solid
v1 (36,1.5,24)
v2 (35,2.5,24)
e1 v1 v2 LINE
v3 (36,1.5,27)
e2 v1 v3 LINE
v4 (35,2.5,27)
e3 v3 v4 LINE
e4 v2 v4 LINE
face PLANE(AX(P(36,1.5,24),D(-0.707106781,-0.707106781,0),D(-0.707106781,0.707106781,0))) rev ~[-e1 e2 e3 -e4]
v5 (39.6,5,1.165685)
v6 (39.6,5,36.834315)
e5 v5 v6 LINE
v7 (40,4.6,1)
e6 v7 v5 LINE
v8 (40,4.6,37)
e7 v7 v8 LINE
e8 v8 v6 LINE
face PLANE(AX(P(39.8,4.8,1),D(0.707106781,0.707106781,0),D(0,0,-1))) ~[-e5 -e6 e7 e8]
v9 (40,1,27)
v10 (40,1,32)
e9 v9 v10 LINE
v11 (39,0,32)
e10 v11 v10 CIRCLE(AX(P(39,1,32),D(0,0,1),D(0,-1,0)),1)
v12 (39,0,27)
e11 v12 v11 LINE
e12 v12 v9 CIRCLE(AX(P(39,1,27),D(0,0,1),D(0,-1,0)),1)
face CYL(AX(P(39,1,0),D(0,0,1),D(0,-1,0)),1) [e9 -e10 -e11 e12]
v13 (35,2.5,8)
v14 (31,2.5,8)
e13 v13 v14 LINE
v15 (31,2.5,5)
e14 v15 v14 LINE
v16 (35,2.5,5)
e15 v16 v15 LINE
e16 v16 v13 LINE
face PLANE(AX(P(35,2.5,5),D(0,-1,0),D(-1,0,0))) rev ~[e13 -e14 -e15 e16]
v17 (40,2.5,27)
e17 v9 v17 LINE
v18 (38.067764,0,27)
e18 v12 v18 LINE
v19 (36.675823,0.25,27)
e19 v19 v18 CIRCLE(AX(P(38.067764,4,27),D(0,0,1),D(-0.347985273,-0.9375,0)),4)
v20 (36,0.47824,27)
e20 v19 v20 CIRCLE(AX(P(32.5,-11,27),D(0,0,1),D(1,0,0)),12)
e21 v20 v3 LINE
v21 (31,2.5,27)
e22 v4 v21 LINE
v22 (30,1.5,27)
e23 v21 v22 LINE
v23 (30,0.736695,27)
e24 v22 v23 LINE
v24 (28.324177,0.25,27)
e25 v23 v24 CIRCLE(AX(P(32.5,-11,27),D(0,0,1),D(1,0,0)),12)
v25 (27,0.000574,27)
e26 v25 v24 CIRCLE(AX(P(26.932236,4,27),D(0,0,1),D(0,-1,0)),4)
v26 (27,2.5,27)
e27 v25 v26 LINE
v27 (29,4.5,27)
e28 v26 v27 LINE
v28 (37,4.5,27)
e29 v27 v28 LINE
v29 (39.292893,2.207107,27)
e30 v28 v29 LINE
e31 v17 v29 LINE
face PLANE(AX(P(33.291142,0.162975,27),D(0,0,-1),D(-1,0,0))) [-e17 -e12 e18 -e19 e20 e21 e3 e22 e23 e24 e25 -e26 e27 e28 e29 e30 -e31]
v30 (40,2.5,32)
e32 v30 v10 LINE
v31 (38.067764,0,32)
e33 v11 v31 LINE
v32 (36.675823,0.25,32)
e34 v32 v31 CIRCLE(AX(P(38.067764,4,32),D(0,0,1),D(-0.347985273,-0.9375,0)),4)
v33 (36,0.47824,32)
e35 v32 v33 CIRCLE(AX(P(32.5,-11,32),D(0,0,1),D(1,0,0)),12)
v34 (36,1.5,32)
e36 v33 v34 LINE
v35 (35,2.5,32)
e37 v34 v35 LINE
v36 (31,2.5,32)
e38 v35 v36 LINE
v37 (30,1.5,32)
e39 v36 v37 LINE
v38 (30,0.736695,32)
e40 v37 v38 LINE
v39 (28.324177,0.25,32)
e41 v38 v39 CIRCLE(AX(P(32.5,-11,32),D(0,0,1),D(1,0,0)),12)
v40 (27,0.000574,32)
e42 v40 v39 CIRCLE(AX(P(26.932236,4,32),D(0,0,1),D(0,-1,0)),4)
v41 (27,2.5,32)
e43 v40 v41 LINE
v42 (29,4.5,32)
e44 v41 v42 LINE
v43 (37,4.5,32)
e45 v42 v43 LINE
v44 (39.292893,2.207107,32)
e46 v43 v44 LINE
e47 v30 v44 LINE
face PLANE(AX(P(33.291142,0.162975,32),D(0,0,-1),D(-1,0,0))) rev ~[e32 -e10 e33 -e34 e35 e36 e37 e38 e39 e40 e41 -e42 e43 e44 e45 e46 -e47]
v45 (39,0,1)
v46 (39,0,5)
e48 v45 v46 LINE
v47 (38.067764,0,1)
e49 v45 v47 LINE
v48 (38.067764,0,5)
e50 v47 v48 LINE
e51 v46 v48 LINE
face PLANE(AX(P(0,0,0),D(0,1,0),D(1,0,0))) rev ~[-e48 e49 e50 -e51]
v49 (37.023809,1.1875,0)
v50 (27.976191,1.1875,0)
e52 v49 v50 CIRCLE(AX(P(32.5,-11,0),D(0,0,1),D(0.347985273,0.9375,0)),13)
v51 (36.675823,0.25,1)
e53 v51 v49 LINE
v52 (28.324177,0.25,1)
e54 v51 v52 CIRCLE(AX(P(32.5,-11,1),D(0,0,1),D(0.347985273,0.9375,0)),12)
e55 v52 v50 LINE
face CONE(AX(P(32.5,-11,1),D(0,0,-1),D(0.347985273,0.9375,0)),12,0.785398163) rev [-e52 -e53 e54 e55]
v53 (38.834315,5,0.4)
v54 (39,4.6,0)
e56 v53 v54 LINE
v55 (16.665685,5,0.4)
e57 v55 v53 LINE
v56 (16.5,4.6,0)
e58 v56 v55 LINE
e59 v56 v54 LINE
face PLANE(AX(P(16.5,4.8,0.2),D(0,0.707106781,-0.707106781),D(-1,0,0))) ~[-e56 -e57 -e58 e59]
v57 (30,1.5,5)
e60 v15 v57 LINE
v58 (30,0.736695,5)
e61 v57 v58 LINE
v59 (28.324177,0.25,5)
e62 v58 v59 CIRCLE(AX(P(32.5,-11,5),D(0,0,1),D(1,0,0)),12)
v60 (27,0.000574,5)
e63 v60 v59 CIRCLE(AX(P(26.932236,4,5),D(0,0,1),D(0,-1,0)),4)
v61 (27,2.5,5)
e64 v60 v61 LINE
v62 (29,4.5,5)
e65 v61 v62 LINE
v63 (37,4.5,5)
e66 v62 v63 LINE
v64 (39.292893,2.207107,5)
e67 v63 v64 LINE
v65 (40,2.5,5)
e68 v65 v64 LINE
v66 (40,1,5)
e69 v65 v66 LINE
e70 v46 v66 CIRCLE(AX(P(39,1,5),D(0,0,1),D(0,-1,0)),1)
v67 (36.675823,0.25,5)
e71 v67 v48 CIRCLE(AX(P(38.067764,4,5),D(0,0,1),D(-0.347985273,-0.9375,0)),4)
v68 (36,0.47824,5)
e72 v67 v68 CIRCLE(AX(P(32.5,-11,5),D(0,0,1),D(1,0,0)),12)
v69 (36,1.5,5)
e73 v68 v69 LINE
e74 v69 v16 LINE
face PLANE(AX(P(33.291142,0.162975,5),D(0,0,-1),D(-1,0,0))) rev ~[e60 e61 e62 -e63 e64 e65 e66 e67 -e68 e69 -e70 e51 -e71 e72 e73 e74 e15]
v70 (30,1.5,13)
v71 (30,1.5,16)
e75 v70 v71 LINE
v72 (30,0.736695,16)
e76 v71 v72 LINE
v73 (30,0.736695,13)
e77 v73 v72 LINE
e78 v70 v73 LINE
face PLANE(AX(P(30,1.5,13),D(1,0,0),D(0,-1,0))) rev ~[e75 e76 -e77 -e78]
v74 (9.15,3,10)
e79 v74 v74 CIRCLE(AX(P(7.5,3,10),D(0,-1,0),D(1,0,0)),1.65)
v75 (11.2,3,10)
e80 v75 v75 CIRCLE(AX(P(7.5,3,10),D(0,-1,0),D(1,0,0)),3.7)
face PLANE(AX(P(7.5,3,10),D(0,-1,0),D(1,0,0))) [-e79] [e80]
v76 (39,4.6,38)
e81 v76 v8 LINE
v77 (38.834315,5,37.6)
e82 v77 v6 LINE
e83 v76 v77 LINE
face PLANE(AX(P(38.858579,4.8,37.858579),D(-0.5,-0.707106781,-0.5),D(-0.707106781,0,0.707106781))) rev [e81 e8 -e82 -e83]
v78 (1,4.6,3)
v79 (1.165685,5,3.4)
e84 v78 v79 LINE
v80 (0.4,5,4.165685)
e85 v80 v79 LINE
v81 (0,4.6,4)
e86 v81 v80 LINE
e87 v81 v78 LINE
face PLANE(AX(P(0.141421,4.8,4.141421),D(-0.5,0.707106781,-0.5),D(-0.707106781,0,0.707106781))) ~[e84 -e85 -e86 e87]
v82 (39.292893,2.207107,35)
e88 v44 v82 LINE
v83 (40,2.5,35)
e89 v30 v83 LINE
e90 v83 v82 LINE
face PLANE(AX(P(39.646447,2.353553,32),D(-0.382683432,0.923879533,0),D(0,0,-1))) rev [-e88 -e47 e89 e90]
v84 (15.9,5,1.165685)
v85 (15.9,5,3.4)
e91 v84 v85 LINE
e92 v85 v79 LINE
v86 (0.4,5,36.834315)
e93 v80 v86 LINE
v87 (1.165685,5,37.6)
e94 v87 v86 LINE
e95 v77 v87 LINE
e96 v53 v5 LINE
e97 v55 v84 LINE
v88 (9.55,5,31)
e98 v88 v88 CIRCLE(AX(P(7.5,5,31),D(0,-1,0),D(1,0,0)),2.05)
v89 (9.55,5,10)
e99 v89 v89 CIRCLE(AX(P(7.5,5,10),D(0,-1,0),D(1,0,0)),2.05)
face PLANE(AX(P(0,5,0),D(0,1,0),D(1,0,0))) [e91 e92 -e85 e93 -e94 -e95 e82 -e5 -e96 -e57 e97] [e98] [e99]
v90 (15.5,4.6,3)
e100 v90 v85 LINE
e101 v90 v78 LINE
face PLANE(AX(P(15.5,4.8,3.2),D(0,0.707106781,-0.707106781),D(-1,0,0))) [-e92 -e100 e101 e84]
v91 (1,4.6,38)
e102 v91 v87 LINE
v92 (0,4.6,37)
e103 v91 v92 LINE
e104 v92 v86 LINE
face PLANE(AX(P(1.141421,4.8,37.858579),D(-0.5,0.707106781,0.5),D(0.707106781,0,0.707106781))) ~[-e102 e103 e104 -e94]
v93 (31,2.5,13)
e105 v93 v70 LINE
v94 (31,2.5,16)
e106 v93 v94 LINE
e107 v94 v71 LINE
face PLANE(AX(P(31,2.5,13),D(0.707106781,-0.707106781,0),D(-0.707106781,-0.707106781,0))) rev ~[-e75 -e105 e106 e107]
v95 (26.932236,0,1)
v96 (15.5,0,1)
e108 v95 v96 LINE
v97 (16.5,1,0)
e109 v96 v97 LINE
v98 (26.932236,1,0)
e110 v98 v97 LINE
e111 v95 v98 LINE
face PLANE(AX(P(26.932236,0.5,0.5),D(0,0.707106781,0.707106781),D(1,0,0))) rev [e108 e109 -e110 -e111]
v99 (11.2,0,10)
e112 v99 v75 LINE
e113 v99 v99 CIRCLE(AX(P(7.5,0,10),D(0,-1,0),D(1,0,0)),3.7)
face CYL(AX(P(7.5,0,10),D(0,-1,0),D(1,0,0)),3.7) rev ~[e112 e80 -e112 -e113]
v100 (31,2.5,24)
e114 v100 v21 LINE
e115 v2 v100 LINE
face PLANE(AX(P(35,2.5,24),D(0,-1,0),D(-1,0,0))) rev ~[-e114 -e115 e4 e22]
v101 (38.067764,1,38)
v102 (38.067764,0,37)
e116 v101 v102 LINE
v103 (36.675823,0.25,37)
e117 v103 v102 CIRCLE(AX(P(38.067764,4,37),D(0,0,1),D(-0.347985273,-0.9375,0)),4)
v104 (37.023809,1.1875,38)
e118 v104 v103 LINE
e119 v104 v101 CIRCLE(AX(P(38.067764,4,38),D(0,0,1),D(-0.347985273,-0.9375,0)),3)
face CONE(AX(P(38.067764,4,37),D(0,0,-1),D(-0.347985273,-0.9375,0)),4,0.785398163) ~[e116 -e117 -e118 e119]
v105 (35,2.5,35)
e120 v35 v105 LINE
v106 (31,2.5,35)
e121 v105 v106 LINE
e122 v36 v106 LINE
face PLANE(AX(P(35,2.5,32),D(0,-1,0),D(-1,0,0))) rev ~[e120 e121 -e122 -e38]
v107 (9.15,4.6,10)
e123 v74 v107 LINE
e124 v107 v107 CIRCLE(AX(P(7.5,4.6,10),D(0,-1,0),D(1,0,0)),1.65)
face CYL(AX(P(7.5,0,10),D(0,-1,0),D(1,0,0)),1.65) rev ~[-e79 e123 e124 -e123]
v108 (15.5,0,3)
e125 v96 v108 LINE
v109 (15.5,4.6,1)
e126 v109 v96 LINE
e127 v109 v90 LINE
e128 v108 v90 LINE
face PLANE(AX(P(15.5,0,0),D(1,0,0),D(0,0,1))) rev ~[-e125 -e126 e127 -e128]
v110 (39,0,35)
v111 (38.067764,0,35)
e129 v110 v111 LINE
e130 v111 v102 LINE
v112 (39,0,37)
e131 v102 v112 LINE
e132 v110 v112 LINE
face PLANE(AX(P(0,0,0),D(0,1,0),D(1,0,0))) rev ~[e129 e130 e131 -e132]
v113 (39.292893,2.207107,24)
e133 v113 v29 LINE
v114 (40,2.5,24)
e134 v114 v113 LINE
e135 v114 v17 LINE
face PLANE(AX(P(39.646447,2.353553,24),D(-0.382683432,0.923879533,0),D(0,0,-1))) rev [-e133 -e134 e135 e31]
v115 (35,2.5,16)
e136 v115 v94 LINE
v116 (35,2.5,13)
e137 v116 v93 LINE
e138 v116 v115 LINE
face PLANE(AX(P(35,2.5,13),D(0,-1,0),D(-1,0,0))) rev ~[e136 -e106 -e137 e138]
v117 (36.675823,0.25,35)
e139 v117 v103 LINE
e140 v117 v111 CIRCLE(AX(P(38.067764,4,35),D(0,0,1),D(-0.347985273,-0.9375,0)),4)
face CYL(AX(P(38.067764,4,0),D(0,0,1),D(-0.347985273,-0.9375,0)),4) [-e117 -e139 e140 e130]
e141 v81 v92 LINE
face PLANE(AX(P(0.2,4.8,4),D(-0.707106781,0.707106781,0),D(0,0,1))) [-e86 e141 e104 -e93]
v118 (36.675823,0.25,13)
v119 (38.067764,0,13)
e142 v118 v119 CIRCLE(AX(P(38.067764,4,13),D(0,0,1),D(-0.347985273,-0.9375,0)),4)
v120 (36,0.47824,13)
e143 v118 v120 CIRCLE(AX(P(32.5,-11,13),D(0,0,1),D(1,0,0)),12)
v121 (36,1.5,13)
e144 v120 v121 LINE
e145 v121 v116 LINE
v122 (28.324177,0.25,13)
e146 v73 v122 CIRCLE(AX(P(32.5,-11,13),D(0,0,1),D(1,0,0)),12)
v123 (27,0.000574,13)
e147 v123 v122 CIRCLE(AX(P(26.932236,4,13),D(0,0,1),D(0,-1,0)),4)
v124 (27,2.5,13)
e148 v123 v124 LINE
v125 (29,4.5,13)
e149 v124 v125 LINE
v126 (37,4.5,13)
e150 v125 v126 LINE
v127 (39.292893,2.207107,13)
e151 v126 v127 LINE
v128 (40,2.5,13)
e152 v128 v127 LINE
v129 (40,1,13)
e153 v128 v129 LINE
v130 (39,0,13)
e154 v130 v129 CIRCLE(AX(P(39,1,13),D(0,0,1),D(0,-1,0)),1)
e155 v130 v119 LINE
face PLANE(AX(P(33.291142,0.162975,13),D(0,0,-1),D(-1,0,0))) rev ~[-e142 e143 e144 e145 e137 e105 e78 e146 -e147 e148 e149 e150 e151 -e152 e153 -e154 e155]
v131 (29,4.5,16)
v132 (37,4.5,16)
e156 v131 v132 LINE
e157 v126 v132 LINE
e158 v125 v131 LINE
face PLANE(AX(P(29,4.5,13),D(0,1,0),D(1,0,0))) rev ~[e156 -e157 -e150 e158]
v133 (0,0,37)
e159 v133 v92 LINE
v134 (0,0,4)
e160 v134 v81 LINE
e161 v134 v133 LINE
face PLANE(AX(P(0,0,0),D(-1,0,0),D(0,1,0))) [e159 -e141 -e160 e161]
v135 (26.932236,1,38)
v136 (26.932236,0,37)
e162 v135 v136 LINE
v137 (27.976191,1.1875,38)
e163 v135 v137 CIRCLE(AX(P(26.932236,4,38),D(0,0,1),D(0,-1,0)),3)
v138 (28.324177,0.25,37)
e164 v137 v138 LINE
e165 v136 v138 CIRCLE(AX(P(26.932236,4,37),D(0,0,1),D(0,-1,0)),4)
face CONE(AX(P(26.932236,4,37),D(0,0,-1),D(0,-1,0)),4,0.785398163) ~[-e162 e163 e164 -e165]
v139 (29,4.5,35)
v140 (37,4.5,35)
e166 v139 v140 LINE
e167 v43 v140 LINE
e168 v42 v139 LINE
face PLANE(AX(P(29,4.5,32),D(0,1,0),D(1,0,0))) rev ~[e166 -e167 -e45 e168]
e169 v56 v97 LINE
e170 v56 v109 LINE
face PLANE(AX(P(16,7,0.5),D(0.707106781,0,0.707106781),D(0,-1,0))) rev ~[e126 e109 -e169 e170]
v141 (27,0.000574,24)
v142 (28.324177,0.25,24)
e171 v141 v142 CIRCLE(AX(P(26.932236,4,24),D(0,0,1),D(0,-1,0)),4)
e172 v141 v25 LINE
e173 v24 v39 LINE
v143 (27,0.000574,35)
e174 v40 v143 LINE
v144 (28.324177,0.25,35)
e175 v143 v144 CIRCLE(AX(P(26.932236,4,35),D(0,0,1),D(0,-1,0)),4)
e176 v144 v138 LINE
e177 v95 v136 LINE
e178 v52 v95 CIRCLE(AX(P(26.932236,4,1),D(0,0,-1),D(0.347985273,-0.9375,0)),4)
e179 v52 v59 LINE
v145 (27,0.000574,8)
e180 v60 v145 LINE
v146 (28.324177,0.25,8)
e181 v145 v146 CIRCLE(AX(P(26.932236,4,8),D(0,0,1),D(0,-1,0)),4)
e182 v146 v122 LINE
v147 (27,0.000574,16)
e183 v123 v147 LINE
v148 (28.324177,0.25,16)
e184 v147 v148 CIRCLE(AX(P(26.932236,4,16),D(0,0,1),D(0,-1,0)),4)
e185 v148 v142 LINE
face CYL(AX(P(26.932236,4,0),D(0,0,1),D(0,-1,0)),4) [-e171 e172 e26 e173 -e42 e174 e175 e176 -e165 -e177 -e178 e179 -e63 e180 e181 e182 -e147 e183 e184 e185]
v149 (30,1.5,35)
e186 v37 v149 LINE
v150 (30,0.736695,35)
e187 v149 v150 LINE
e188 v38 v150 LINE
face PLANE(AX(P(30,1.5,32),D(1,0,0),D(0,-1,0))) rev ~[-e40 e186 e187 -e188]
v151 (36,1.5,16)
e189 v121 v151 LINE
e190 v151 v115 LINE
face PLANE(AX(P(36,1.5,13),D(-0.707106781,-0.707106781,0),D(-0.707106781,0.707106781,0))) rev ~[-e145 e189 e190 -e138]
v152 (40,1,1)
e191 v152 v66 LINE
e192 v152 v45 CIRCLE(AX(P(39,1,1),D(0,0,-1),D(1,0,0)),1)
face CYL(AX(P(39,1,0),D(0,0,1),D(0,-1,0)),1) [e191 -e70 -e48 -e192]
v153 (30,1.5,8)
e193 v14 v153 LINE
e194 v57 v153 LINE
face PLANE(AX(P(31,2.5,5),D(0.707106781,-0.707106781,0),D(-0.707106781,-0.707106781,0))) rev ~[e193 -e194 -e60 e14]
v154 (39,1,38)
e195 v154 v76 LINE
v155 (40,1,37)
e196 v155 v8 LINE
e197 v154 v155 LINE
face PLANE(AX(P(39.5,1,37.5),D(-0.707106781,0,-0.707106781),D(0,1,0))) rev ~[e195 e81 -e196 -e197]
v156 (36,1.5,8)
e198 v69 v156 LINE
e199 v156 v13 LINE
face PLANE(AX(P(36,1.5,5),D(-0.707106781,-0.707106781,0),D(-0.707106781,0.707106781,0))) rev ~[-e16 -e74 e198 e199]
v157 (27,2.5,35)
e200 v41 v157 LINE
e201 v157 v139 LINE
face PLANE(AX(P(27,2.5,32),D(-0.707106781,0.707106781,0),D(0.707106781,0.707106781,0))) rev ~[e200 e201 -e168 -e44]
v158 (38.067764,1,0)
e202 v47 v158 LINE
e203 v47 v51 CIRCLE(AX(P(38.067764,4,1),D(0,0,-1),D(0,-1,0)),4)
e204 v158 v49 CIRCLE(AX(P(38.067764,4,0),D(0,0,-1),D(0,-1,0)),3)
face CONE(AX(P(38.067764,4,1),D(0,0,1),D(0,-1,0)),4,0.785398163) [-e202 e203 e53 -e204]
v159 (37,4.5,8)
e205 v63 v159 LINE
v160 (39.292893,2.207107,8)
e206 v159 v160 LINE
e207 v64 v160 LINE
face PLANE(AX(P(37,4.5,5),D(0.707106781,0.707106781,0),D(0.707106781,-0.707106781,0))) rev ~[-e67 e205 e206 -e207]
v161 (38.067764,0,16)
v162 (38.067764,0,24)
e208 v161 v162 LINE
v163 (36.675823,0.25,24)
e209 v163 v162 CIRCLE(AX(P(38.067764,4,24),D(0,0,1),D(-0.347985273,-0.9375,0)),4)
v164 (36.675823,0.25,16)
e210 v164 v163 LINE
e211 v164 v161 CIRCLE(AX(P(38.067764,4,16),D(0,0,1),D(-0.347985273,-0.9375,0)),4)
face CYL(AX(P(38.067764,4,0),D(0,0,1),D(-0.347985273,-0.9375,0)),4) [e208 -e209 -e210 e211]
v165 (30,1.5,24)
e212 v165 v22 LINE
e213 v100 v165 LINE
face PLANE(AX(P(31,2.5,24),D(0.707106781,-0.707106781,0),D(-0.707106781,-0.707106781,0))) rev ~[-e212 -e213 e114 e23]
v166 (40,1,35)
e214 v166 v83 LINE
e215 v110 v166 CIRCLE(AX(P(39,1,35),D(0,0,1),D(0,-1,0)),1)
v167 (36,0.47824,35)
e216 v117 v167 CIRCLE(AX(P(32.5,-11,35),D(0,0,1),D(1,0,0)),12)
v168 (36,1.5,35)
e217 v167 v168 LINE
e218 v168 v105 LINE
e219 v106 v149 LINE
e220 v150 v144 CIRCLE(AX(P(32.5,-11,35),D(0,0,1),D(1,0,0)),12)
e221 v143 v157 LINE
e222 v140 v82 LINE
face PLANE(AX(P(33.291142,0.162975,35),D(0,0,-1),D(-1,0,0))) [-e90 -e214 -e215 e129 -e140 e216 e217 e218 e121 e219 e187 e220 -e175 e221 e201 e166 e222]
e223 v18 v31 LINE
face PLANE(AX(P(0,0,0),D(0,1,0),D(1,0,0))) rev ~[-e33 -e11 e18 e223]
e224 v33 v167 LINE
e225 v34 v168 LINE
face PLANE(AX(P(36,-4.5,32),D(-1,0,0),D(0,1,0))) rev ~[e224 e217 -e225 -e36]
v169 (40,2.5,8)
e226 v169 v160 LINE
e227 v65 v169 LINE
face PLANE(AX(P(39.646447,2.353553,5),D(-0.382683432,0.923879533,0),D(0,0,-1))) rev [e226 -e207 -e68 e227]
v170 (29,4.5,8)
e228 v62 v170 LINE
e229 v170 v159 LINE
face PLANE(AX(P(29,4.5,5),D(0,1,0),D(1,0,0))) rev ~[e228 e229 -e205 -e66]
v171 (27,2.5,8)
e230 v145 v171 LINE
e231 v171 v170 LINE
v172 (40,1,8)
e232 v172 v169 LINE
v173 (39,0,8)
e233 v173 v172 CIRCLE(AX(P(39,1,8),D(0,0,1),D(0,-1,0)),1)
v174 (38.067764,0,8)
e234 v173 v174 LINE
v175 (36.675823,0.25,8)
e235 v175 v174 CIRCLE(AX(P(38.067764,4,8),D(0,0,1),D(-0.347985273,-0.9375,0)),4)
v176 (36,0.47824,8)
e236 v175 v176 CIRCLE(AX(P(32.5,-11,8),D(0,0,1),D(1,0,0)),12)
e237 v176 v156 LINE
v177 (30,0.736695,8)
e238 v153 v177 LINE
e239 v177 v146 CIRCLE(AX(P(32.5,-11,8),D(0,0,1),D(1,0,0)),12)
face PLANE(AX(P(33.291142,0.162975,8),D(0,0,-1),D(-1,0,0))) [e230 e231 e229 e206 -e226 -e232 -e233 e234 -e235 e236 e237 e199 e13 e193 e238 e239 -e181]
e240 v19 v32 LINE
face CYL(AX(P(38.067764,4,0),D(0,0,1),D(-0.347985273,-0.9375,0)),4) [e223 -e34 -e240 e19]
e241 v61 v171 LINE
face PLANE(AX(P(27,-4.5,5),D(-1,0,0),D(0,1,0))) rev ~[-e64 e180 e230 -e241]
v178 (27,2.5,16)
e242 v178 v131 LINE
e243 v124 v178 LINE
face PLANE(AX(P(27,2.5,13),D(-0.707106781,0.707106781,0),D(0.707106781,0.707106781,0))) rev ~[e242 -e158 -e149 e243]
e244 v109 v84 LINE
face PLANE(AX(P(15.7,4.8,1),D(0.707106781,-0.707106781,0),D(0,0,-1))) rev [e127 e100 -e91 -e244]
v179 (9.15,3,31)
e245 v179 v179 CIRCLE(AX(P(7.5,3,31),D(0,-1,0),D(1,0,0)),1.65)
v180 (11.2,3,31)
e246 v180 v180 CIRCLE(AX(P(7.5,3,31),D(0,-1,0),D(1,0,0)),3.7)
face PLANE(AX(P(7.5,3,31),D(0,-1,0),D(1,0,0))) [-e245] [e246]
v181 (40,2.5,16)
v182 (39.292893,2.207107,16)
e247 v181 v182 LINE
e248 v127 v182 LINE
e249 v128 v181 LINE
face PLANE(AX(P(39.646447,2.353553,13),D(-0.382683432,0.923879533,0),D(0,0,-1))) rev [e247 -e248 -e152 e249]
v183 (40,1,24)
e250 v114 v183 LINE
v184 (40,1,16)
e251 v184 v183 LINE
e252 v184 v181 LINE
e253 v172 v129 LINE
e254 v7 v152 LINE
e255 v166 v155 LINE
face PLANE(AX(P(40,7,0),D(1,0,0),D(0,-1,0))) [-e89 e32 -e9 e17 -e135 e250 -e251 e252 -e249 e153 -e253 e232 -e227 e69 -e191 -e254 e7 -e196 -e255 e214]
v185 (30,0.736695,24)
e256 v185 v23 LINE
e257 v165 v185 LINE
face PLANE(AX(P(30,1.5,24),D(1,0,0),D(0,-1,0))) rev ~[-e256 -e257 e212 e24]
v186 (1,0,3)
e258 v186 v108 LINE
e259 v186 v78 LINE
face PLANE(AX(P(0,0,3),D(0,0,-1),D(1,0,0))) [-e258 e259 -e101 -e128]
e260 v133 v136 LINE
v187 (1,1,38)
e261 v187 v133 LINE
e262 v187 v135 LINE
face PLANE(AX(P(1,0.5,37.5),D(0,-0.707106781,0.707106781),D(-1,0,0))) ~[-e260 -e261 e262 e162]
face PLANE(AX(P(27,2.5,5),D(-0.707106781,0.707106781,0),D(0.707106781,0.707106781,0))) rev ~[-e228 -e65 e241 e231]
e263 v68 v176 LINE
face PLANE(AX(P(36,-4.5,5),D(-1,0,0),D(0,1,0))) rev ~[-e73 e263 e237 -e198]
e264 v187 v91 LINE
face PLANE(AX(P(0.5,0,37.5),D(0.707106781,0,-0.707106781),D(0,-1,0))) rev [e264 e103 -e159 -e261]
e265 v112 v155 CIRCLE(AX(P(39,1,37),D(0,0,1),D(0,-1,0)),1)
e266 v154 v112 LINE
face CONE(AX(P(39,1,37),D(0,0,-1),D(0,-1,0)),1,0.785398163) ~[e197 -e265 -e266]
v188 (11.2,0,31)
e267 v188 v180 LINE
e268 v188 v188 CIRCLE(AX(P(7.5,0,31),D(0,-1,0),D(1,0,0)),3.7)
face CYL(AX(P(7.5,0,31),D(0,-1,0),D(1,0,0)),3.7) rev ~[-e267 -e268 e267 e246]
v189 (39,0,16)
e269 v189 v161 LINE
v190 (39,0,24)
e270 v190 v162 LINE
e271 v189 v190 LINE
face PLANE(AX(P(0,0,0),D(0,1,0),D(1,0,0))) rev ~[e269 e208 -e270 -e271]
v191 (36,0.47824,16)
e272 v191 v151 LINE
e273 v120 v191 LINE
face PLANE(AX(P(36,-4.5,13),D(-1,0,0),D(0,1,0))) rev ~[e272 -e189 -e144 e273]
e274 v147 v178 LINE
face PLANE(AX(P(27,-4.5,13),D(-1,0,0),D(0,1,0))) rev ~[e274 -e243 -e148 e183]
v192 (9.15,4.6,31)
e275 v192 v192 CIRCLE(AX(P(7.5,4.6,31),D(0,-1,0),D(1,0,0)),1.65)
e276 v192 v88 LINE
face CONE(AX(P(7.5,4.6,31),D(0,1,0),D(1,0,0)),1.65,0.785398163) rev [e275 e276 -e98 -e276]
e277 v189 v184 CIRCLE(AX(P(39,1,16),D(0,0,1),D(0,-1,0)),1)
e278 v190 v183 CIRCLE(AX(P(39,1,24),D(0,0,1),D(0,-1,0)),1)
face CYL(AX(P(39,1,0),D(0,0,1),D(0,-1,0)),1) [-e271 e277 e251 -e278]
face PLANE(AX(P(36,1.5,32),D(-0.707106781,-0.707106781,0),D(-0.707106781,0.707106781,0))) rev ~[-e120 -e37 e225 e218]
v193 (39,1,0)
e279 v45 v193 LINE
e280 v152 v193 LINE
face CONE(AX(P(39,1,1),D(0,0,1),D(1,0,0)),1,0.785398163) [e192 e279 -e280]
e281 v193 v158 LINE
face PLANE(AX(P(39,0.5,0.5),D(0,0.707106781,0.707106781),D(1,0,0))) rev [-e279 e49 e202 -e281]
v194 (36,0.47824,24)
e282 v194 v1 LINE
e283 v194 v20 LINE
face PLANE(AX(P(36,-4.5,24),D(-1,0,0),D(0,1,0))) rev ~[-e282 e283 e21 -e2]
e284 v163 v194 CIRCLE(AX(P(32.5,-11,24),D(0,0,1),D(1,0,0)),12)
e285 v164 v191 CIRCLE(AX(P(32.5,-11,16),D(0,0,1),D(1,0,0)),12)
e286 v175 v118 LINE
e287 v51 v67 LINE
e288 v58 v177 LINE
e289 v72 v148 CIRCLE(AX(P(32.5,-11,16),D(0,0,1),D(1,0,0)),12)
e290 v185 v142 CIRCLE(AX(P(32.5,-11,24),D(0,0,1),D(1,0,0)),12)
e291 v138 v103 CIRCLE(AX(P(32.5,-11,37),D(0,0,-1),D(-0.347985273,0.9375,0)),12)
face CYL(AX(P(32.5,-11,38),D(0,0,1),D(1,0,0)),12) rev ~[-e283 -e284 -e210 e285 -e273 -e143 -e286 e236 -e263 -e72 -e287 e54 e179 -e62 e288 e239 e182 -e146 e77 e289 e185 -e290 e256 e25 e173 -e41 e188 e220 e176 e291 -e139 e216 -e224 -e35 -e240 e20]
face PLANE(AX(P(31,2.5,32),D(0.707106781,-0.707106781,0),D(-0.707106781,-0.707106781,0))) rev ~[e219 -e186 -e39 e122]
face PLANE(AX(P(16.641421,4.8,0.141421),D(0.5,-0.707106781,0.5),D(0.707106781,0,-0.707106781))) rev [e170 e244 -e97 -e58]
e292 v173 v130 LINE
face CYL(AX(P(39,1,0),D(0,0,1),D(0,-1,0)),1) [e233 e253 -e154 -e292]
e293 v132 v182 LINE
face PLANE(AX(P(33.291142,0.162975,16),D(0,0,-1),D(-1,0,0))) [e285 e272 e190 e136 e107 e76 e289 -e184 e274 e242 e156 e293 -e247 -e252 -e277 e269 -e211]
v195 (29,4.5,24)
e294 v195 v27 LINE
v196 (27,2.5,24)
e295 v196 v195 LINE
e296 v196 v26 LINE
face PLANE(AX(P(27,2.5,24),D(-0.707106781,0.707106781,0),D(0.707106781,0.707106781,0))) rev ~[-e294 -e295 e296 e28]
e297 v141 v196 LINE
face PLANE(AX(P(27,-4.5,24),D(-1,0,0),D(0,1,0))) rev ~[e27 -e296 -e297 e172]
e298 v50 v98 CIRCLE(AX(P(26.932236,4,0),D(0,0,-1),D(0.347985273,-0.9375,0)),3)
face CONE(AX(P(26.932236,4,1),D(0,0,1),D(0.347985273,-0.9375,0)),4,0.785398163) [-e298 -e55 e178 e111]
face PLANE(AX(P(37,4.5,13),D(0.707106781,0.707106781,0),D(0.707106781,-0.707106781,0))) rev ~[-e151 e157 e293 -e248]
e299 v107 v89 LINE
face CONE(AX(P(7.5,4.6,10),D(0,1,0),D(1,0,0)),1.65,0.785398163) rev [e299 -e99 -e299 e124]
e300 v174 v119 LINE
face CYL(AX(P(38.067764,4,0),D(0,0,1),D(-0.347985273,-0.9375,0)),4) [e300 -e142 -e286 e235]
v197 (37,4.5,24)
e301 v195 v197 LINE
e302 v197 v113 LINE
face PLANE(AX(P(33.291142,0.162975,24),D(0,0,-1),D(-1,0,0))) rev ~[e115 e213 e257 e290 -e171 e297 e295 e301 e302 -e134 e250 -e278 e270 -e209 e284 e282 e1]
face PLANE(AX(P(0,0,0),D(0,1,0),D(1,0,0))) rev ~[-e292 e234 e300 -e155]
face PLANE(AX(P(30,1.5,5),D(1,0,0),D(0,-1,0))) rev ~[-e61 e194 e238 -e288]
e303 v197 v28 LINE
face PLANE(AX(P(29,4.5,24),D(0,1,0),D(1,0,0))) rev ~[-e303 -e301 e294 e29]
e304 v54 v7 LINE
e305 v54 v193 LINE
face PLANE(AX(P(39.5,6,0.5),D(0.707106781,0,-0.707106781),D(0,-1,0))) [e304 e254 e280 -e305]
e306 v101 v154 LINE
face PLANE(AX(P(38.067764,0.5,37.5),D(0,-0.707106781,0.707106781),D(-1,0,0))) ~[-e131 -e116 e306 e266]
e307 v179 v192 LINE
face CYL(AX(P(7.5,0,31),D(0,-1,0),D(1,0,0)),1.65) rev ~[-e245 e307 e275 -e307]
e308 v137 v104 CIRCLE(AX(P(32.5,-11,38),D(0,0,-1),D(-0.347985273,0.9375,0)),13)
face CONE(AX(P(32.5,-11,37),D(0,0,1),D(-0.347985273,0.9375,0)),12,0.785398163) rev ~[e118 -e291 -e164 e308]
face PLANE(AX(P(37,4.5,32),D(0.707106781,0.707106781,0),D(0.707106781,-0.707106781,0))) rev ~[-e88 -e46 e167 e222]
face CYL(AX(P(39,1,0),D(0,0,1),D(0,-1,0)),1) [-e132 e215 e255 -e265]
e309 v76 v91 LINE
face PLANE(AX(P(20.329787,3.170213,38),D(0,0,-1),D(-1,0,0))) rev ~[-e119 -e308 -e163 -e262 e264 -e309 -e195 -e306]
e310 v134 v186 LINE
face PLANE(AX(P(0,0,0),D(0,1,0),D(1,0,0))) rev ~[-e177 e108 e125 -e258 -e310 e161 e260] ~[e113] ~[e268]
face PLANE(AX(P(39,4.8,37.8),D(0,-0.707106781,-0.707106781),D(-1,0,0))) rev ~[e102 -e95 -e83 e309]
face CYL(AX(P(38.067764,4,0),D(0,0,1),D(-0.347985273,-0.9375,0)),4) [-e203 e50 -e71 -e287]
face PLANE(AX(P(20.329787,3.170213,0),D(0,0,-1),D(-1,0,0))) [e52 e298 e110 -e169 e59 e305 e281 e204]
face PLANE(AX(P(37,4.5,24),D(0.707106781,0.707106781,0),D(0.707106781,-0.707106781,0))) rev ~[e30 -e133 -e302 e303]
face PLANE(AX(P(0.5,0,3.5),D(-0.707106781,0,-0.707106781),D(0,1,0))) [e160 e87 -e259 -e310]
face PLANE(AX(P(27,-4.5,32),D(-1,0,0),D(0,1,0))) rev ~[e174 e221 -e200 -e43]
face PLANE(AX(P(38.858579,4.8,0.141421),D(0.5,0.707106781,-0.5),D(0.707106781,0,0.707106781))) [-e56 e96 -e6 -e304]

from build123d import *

# Parameters (mm, degrees)
BOX_W              = 40
BOX_H              = 4
BOX_DEPTH          = 38
PAD002_DEPTH       = 3
PAD_DEPTH          = 38
SKETCH001_W        = 15.5
SKETCH001_H        = 3
POCKET_DEPTH       = 7.001
SKETCH002_R        = 12
POCKET001_DEPTH    = 38.001
FILLET_R           = 4
FILLET001_R        = 1
SKETCH003_R        = 1.65
POCKET002_DEPTH    = 7.001
SKETCH004_R        = 3.7
POCKET003_DEPTH    = 3
CHAMFER_SIZE       = 1
CHAMFER001_SIZE    = 1
SKETCH005_W        = 3
SKETCH005_H        = 5
SKETCH005_H_2      = 17
PAD001_DEPTH       = 1
CHAMFER002_SIZE    = 0.99
CHAMFER003_SIZE    = 1
CHAMFER003002_SIZE = 0.4


with BuildPart() as cube:
    # Box → Box (new body)
    with BuildSketch(Plane(origin=(0, 5, 0), x_dir=(1, 0, 0), z_dir=(0, 0, 1))):
        with Locations((20, 2)):
            Rectangle(BOX_W, BOX_H)
    extrude(amount=BOX_DEPTH)


with BuildPart() as body001:
    # Sketch006 → Pad002 (new body)
    with BuildSketch(Plane.XY):
        Polygon((27, -3), (27, 4), (29, 6), (37, 6), (40, 3), (40, -3), (36, -3), (36, 3), (35, 4), (31, 4), (30, 3), (30, -3), align=None)
    extrude(amount=PAD002_DEPTH)


with BuildPart() as body001_1:
    # Body001 placement: moved
    add(body001.part.moved(Location((0, 0, 32))))


with BuildPart() as body002:
    # Body002 base: copy of Body001
    add(body001_1.part)


with BuildPart() as body002_1:
    # Body002 placement: moved
    add(body002.part.moved(Location((0, 0, -8))))


with BuildPart() as body003:
    # Body003 base: copy of Body002
    add(body002_1.part)


with BuildPart() as body003_1:
    # Body003 placement: moved
    add(body003.part.moved(Location((0, 0, -19))))


with BuildPart() as fusion:
    # Body004 base: copy of Body003
    add(body003_1.part)


with BuildPart() as fusion_1:
    # Body004 placement: moved
    add(fusion.part.moved(Location((0, 0, 8))))

    # Fusion: union Body001, Body002, Body003
    add(body001_1.part)
    add(body002_1.part)
    add(body003_1.part)


with BuildPart() as fusion_2:
    # Fusion placement: moved
    add(fusion_1.part.moved(Location((0, -1.5, 0))))


with BuildPart() as chamfer003002:
    # Sketch → Pad (new body)
    with BuildSketch(Plane.XY):
        Polygon((0, 0), (0, 5), (15.5, 5), (15.5, 7), (25, 7), (40, 7), (40, 0), (25, 0), align=None)
    extrude(amount=PAD_DEPTH)

    # Sketch001 (on Face8 of Pad) → Pocket (cut, through all)
    with BuildSketch(Plane.XZ):
        with Locations((7.75, 1.5)):
            Rectangle(SKETCH001_W, SKETCH001_H)
    extrude(amount=-POCKET_DEPTH, mode=Mode.SUBTRACT)

    # Sketch002 (on Face4 of Pocket) → Pocket001 (cut, through all)
    with BuildSketch(Plane.XY.offset(38)):
        with Locations((32.5, -11)):
            Circle(SKETCH002_R)
    extrude(amount=-POCKET001_DEPTH, mode=Mode.SUBTRACT)

    # Fillet
    fillet_edges = [chamfer003002.edges().sort_by_distance(p)[0] for p in [
        (27.704168, 0, 19),
        (37.295832, 0, 19),
    ]]
    fillet(fillet_edges, radius=FILLET_R)

    # Fillet001
    fillet001_edges = [chamfer003002.edges().sort_by_distance(p)[0] for p in [
        (40, 0, 19),
        (40, 7, 19),
    ]]
    fillet(fillet001_edges, radius=FILLET001_R)

    # Sketch003 (on Face12 of Fillet001) → Pocket002 (cut, through all)
    with BuildSketch(Plane.XZ):
        with Locations((7.5, 31)):
            Circle(SKETCH003_R)
        with Locations((7.5, 10)):
            Circle(SKETCH003_R)
    extrude(amount=-POCKET002_DEPTH, mode=Mode.SUBTRACT)

    # Sketch004 (on Face12 of Pocket002) → Pocket003 (cut)
    with BuildSketch(Plane.XZ):
        with Locations((7.5, 31)):
            Circle(SKETCH004_R)
        with Locations((7.5, 10)):
            Circle(SKETCH004_R)
    extrude(amount=-POCKET003_DEPTH, mode=Mode.SUBTRACT)

    # Chamfer
    chamfer_edges = [chamfer003002.edges().sort_by_distance(p)[0] for p in [
        (0, 2.5, 38),
        (0, 2.5, 3),
        (15.5, 2.5, 0),
    ]]
    chamfer(chamfer_edges, length=CHAMFER_SIZE)

    # Chamfer001
    chamfer001_edges = [chamfer003002.edges().sort_by_distance(p)[0] for p in [
        (13, 0, 38),
        (32.5, 1, 0),
    ]]
    chamfer(chamfer001_edges, length=CHAMFER001_SIZE)

    # Sketch005 (on Face4 of Chamfer001) → Pad001 (join)
    with BuildSketch(Plane(origin=(0, 5, 0), x_dir=(-1, 0, 0), z_dir=(0, 1, 0))):
        with Locations((-7.5, 35.5)):
            Rectangle(SKETCH005_W, SKETCH005_H)
        with Locations((-7.5, 20.5)):
            Rectangle(SKETCH005_W, SKETCH005_H_2)
        with Locations((-7.5, 5.5)):
            Rectangle(SKETCH005_W, SKETCH005_H)
    extrude(amount=PAD001_DEPTH)

    # Chamfer002
    chamfer002_edges = [chamfer003002.edges().sort_by_distance(p)[0] for p in [
        (7.5, 6, 29),
        (7.5, 6, 8),
        (7.5, 6, 38),
    ]]
    chamfer(chamfer002_edges, length=CHAMFER002_SIZE)

    # Cut: cut Fusion
    add(fusion_2.part, mode=Mode.SUBTRACT)

    # Cut001: cut Cube
    add(cube.part, mode=Mode.SUBTRACT)

    # Chamfer003
    chamfer003_edges = [chamfer003002.edges().sort_by_distance(p)[0] for p in [
        (40, 1.5, 6.5),
        (40, 1.5, 14.5),
        (40, 1.5, 25.5),
        (40, 1.5, 33.5),
    ]]
    chamfer(chamfer003_edges, length=CHAMFER003_SIZE)

    # Chamfer003002
    chamfer003002_edges = [chamfer003002.edges().sort_by_distance(p)[0] for p in [
        (40, 5, 19),
        (39.5, 5, 0.5),
        (39.5, 5, 37.5),
        (27.75, 5, 0),
        (20, 5, 38),
        (16, 5, 0.5),
        (15.5, 5, 2),
        (0.5, 5, 37.5),
        (8.25, 5, 3),
        (0, 5, 20.5),
        (0.5, 5, 3.5),
        (5.85, 5, 31),
        (5.85, 5, 10),
    ]]
    chamfer(chamfer003002_edges, length=CHAMFER003002_SIZE)


solid = chamfer003002.part
